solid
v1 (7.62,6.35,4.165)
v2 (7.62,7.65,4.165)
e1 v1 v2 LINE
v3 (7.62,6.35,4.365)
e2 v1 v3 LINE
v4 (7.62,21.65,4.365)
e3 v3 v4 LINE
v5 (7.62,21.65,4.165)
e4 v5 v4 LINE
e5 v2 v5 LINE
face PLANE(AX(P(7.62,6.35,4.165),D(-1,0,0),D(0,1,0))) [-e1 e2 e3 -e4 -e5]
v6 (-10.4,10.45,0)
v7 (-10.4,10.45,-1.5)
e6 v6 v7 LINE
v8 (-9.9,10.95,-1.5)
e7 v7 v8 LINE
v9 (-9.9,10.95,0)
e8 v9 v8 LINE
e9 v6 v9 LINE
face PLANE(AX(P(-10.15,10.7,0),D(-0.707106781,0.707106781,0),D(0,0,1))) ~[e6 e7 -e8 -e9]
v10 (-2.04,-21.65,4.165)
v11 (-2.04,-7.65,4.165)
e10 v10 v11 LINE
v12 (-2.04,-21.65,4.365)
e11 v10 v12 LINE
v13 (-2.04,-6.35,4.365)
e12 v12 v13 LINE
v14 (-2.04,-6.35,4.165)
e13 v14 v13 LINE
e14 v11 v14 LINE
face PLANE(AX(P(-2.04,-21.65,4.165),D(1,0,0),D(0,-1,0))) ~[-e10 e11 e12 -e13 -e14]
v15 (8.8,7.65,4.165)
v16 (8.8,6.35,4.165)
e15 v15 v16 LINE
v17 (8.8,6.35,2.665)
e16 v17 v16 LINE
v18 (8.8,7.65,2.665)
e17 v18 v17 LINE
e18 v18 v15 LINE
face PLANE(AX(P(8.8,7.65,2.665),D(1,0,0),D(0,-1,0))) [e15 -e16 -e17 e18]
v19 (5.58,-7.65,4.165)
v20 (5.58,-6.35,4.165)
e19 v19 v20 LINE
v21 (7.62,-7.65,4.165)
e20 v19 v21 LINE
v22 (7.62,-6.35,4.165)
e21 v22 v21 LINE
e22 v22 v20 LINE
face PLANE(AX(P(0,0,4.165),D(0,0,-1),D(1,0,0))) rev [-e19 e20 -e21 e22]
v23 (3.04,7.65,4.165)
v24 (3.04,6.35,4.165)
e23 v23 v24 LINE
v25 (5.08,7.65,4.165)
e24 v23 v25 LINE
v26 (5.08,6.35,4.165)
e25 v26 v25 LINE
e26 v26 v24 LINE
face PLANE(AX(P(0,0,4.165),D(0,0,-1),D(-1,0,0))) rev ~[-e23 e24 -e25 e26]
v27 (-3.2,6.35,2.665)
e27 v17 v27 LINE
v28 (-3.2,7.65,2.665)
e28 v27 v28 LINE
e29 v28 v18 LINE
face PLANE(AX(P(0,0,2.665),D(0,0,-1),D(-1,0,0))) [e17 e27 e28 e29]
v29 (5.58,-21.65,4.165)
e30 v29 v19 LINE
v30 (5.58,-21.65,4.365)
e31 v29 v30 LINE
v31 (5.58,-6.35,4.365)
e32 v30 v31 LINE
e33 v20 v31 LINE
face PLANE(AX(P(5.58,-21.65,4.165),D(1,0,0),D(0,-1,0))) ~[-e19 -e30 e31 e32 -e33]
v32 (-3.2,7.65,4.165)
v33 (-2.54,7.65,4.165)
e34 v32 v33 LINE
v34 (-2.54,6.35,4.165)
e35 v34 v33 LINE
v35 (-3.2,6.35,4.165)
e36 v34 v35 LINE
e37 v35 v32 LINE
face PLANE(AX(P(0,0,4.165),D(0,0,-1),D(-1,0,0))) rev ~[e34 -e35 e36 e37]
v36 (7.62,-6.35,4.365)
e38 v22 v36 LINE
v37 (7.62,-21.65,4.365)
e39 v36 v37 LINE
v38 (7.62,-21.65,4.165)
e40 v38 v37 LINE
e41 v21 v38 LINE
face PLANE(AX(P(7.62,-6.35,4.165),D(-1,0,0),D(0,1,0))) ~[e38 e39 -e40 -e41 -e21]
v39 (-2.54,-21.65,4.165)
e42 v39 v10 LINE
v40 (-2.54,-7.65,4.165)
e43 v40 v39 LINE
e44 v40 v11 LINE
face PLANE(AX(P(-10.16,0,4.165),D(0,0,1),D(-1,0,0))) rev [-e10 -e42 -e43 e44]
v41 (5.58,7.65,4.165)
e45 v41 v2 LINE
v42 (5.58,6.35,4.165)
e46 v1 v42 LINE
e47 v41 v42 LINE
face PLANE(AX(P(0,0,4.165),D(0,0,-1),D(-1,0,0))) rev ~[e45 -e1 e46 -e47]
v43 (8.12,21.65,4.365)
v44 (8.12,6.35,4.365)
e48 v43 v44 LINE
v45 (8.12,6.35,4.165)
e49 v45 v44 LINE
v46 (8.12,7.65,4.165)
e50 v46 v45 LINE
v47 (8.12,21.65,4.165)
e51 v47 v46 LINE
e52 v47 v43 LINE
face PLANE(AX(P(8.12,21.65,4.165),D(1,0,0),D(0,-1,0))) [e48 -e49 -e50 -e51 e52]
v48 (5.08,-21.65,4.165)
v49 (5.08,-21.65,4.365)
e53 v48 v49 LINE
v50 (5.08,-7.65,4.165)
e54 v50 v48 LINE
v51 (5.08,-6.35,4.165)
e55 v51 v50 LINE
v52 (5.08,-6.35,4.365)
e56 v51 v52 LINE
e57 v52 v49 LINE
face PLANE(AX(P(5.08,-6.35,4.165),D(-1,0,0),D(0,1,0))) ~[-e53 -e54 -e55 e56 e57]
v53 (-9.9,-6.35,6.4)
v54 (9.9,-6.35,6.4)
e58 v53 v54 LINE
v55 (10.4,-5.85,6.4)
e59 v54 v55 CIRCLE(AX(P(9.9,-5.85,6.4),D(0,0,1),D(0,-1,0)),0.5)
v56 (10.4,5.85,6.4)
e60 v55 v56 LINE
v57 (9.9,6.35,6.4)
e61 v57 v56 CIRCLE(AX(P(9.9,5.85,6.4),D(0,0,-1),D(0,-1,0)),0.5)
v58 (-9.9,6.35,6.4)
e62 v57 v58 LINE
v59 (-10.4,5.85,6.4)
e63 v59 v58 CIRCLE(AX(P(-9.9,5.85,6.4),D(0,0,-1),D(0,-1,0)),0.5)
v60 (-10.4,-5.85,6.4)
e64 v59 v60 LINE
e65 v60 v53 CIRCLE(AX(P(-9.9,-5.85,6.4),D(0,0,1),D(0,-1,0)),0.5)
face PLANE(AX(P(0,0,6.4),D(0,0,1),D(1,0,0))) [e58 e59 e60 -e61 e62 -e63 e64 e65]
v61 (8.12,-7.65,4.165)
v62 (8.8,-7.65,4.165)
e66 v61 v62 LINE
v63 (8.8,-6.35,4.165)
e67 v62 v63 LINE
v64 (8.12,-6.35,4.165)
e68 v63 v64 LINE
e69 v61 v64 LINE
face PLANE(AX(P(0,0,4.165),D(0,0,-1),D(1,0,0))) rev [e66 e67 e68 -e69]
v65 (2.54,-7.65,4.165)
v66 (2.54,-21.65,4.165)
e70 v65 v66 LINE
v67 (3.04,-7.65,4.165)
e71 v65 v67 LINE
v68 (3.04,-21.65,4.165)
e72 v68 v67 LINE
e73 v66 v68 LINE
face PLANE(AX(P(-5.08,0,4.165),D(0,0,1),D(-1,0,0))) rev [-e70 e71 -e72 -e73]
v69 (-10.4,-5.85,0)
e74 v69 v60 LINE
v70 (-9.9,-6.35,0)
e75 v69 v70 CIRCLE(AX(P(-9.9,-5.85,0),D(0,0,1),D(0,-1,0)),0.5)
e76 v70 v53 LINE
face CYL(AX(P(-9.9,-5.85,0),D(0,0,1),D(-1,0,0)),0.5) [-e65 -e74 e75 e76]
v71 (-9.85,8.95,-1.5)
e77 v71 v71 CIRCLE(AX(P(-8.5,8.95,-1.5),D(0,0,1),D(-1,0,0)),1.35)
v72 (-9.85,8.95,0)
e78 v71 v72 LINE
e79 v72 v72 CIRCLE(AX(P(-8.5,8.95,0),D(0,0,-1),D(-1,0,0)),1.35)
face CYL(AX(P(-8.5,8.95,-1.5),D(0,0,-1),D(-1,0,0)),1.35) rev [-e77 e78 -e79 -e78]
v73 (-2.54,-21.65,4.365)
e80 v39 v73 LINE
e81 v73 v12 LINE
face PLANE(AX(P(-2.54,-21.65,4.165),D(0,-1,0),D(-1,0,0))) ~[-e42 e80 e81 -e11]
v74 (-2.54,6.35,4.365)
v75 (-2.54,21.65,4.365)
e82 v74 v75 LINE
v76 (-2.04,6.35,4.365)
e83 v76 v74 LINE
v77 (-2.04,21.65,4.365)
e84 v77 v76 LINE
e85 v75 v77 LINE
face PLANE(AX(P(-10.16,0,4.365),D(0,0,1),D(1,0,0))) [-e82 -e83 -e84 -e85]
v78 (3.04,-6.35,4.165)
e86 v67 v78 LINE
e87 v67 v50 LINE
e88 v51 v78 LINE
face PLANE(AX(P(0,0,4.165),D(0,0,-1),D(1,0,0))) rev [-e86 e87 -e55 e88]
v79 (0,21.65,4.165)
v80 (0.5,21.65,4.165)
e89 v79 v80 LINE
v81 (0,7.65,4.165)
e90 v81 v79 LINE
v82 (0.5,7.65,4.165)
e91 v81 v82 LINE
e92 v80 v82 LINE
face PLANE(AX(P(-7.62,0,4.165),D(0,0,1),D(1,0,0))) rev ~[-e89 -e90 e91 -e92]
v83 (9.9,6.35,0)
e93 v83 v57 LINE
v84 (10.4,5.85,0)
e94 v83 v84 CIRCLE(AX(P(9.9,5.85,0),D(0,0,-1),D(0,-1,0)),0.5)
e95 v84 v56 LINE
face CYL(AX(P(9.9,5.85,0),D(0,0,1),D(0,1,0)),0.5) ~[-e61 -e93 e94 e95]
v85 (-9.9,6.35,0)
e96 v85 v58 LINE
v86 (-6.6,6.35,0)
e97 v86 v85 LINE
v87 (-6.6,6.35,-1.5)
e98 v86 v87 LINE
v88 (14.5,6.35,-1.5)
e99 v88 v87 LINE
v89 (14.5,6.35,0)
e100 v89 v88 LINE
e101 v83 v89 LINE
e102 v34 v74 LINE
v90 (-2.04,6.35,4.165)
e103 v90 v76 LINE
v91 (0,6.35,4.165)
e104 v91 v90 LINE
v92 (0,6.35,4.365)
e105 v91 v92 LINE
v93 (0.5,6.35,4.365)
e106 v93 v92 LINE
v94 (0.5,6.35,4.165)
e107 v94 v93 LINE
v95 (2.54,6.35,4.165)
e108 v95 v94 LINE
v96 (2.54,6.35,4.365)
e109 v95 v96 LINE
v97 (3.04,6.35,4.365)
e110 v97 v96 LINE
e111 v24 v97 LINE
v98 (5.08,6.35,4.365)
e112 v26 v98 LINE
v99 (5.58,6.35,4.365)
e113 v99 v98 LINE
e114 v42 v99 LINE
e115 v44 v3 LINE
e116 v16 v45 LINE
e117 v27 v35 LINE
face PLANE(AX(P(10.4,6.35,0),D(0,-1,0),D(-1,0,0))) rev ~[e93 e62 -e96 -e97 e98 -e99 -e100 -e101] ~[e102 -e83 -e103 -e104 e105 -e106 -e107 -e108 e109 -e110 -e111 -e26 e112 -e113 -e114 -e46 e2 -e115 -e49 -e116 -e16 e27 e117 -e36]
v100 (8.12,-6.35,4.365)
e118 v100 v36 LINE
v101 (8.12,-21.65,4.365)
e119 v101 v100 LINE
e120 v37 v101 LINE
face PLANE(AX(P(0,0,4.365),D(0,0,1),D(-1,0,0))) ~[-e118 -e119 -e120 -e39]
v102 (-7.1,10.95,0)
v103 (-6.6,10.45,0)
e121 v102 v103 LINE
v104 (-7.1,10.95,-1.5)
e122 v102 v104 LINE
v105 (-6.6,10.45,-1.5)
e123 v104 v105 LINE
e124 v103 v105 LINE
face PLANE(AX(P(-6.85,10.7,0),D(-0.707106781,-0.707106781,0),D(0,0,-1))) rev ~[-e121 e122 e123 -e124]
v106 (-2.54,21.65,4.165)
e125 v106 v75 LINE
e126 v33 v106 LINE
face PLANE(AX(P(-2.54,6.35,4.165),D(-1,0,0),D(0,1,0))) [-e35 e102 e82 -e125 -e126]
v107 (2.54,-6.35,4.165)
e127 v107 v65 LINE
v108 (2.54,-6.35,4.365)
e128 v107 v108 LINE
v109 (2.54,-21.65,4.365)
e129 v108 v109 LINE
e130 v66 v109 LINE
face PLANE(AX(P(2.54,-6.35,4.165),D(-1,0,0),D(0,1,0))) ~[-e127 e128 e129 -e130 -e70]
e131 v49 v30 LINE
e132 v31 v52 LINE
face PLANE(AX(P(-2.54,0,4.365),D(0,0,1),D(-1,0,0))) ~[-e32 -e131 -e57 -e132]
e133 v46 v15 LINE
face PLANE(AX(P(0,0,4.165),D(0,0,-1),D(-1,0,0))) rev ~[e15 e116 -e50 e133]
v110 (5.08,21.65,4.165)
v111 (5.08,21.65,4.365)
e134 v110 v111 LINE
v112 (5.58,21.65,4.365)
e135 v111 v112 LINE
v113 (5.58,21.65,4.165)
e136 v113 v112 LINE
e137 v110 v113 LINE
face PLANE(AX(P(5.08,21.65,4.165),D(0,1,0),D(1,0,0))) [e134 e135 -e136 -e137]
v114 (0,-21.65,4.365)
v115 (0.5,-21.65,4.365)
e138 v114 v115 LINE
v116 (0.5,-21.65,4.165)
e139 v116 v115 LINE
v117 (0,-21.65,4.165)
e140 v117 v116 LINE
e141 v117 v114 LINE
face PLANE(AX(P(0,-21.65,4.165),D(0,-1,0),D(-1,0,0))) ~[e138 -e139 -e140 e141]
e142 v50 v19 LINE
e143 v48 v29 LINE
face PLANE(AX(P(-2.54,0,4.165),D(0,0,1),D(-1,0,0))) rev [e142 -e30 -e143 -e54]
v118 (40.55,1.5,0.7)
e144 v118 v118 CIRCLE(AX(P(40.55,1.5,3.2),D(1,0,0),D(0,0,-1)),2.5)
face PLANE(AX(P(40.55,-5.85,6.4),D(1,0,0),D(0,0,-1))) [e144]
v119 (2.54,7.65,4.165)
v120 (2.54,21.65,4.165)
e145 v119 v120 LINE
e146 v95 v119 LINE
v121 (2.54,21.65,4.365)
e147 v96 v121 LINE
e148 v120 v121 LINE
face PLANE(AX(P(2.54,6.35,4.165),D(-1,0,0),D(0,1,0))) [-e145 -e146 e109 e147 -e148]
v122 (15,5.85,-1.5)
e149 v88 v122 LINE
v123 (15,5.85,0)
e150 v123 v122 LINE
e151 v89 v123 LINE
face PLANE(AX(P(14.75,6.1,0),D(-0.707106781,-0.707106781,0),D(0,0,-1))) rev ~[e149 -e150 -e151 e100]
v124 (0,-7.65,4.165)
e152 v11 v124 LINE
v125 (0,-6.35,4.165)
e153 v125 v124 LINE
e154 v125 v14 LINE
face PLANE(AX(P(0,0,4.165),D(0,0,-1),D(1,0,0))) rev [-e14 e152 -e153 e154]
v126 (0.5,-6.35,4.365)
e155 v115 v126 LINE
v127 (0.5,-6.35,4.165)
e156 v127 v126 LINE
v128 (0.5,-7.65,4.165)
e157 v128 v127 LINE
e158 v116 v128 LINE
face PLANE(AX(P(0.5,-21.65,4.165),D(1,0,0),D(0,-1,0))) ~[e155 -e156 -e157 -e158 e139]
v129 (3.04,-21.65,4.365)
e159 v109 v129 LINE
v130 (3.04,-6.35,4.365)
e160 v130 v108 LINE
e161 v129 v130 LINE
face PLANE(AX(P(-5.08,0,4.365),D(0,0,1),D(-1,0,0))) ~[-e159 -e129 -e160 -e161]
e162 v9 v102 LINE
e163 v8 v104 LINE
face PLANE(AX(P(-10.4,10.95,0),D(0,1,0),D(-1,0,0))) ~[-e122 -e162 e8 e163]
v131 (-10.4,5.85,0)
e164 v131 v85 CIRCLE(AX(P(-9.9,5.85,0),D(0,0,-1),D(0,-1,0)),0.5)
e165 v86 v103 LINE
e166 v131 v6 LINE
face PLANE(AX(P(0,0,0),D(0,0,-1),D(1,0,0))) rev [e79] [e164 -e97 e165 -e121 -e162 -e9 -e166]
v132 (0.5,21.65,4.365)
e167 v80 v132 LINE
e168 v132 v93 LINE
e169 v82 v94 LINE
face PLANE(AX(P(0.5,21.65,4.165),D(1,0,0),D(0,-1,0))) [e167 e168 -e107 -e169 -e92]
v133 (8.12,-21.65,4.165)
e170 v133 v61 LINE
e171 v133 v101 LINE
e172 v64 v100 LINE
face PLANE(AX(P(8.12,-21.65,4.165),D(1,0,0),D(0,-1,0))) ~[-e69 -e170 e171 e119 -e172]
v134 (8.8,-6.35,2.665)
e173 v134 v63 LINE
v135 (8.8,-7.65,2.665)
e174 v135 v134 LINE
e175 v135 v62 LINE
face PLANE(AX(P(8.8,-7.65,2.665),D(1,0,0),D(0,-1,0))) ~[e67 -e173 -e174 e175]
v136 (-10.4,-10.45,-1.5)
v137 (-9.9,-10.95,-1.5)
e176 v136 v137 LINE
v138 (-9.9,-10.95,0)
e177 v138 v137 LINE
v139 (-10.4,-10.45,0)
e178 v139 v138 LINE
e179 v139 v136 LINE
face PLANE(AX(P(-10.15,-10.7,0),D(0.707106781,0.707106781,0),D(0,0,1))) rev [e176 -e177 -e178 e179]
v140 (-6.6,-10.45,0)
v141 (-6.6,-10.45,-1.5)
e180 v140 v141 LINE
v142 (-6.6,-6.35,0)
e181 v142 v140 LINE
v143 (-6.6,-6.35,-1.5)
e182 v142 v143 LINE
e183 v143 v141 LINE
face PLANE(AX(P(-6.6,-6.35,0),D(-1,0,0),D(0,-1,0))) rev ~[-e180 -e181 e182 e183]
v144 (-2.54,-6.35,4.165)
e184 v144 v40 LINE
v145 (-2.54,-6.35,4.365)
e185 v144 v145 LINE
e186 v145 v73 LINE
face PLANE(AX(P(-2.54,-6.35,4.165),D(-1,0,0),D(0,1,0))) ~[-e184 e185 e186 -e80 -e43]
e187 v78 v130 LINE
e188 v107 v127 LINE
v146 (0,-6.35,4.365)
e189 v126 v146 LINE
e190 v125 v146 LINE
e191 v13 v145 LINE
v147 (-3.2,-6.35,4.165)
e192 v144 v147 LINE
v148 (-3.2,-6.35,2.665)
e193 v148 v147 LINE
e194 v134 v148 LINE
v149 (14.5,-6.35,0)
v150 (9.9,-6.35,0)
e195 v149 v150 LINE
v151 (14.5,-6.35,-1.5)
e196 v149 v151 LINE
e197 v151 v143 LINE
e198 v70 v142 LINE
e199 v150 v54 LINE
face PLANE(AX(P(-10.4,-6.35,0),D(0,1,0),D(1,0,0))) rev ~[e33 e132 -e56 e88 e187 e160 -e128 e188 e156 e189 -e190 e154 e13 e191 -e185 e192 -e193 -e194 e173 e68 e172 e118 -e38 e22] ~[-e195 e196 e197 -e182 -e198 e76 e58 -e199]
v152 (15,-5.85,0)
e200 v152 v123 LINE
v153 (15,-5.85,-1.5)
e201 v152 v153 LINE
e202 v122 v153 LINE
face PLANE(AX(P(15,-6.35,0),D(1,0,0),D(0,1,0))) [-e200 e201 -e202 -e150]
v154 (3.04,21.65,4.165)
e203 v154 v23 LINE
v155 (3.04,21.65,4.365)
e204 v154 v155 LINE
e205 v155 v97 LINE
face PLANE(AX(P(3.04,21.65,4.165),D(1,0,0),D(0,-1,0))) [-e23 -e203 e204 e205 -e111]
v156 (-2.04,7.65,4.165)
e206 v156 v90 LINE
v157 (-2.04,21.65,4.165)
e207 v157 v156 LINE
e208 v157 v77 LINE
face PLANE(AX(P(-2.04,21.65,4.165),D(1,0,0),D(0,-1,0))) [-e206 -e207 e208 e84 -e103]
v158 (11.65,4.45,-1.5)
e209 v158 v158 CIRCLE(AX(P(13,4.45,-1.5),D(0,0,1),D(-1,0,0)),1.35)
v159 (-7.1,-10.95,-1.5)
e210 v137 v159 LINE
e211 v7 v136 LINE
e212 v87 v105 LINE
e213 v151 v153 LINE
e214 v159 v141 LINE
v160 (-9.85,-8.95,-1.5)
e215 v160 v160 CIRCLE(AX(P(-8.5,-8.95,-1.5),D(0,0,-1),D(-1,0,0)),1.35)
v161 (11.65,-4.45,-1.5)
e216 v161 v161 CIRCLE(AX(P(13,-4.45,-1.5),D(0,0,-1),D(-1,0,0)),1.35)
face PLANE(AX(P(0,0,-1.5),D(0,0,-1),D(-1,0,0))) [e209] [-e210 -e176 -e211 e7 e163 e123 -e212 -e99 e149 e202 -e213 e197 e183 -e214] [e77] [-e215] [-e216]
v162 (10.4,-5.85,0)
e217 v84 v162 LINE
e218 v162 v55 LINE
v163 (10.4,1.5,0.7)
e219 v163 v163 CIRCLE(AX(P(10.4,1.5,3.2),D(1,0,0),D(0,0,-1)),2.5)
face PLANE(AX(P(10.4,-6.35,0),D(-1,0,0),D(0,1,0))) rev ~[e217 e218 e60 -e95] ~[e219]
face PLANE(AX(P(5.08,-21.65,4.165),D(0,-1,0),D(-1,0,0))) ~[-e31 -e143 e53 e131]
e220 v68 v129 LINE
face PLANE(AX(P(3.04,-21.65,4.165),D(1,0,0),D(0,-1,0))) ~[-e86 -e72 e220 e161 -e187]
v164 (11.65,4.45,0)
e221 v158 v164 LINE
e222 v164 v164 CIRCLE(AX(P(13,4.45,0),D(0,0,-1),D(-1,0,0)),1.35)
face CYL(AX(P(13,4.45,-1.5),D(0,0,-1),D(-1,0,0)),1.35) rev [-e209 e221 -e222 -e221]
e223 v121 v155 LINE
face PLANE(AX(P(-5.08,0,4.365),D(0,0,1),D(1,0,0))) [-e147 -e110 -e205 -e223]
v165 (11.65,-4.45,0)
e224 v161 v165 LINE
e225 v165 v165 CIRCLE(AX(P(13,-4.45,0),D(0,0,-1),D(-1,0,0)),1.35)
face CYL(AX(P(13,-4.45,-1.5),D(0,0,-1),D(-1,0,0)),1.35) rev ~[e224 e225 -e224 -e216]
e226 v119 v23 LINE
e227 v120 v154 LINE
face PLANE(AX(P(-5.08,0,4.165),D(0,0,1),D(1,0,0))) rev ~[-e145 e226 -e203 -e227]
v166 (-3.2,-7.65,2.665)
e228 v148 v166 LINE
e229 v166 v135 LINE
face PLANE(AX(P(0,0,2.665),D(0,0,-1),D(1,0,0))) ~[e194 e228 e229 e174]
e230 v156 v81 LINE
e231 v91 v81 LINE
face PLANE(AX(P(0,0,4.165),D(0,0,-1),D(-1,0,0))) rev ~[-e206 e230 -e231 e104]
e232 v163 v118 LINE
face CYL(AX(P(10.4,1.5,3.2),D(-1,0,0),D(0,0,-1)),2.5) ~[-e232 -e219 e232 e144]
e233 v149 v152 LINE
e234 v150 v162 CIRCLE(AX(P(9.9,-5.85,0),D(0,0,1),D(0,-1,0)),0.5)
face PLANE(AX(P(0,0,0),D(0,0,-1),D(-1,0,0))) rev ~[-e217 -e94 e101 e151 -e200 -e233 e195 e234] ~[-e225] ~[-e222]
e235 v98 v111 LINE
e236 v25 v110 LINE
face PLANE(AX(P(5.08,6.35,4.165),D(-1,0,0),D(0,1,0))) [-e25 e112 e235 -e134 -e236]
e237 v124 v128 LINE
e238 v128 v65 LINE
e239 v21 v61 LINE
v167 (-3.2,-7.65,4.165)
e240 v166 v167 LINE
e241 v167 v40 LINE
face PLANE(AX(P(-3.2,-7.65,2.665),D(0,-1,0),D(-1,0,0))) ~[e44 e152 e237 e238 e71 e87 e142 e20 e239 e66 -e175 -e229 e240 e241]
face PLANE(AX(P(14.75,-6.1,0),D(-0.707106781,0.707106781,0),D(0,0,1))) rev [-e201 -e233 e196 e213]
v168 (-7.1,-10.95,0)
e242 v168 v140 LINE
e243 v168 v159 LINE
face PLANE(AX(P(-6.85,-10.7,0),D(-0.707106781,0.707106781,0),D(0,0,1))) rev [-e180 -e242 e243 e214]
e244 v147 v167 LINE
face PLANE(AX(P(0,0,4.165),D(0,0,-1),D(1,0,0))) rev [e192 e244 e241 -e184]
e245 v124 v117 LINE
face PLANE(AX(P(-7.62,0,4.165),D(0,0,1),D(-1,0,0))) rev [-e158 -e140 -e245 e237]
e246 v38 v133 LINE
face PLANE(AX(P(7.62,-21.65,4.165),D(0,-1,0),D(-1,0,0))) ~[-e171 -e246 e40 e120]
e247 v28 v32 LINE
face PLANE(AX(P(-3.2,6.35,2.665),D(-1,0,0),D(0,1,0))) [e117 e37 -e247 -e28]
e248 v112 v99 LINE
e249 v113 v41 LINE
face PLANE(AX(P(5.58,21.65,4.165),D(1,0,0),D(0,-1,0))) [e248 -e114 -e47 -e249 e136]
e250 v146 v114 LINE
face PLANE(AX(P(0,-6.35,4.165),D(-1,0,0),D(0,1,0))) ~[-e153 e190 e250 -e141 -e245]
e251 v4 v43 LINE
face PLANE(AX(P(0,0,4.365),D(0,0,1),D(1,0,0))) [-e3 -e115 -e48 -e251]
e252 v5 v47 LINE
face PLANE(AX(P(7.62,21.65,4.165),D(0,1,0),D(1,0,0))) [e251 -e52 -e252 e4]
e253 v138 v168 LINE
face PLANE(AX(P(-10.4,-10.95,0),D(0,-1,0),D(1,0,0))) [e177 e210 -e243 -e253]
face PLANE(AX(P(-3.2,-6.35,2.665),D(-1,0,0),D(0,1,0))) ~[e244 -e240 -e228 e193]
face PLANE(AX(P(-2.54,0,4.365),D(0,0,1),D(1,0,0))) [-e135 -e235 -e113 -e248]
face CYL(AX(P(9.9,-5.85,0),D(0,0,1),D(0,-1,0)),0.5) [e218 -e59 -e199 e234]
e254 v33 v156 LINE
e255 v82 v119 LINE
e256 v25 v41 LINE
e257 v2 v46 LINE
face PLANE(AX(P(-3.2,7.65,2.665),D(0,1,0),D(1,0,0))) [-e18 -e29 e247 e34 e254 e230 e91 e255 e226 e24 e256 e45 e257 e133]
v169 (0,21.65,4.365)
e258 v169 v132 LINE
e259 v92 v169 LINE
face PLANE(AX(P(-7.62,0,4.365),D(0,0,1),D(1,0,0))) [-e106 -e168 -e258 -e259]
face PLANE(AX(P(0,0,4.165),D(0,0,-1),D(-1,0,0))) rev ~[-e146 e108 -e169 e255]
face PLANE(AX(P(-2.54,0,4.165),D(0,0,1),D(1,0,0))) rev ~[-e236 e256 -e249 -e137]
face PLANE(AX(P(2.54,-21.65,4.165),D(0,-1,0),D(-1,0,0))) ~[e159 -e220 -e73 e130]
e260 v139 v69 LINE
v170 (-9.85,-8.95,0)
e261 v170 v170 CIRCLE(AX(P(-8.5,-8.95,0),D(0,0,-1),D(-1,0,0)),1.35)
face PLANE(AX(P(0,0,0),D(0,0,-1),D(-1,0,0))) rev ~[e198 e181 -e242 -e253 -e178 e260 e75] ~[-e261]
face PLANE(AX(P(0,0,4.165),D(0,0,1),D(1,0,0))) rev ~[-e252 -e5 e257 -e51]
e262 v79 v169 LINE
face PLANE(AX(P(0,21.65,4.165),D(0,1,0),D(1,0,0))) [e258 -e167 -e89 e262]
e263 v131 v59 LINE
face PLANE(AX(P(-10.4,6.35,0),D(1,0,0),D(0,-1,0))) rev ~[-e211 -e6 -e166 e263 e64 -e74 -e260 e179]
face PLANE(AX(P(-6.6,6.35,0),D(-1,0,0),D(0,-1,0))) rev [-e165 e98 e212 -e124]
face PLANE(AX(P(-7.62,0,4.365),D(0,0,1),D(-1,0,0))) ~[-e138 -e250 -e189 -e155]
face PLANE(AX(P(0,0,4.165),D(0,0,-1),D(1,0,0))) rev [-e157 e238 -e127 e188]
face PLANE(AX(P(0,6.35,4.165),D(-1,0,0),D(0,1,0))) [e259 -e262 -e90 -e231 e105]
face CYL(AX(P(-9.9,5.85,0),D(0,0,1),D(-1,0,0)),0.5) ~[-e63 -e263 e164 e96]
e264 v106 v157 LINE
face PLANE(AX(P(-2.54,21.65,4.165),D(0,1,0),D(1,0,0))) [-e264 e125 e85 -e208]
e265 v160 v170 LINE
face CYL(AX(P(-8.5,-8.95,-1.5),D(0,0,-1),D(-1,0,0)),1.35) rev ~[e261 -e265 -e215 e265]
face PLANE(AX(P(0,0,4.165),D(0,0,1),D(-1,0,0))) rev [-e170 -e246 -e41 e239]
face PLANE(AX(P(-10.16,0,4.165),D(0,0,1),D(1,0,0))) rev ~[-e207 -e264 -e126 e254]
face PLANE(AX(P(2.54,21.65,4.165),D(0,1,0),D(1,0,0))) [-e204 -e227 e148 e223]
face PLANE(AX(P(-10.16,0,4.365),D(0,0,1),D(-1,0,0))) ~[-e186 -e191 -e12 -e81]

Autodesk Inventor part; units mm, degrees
ref_plane "YZ Plane" through (0, 0, 0) normal (1, 0, 0) x (0, 1, 0)
ref_plane "XZ Plane" through (0, 0, 0) normal (0, 1, 0) x (-1, 0, 0)
sketch "Sketch1" plane through (0, 0, 0) normal (0, 0, 1) x (1, 0, 0)
  line L0 (-10.4, -6.35) -> (10.4, -6.35)
  line L1 (10.4, -6.35) -> (10.4, 6.35)
  line L2 (10.4, 6.35) -> (-10.4, 6.35)
  line L3 (-10.4, 6.35) -> (-10.4, -6.35)
  line L4 (-10.4, -6.35) -> (10.4, 6.35) construction
  line L5 (10.4, -6.35) -> (-10.4, 6.35) construction
  point P0 (0, 0)
  dimension "d0" = 12.7
  dimension "d1" = 20.8
extrude "Extrusion1" add sketch "Sketch1" along normal blind 6.4
sketch "Sketch4" plane through (0, 0, 0) normal (0, 0, -1) x (-1, 0, 0)
  line L0 (10.4, -10.95) -> (6.6, -10.95)
  line L1 (-15, -6.35) -> (-15, 0)
  line L2 (-15, 0) -> (10.4, 0)
  line L3 (10.4, 0) -> (10.4, -10.95)
  line L4 (10.4, 6.35) -> (10.4, -6.35) projected
  line L5 (-15, -6.35) -> (6.6, -6.35)
  line L6 (6.6, -6.35) -> (6.6, -10.95)
  line L7 (10.4, -6.35) -> (-10.4, -6.35) projected
  point P0 (0, 0)
  dimension "d18" = 10.95
  dimension "d20" = 25.4
  dimension "d21" = 3.8
extrude "Extrusion4" add sketch "Sketch4" along normal blind 1.5
sketch "Sketch5" plane through (0, 0, -1.5) normal (0, 0, -1) x (-1, 0, 0)
  circle A0 centre (8.5, -8.95) radius 1.35
  circle A1 centre (-13, -4.45) radius 1.35
  line L0 (6.6, -10.95) -> (10.4, -10.95) projected
  line L1 (10.4, 0) -> (-15, 0) projected
  line L2 (10.4, -10.95) -> (10.4, 0) projected
  line L3 (-15, 0) -> (-15, -6.35) projected
  line L4 (-15, -6.35) -> (6.6, -6.35) projected
  point P0 (0, 0)
  dimension "d24" = 2.7
  dimension "d26" = 8.95
  dimension "d28" = 1.9
  dimension "d29" = 2
  dimension "d31" = 4.45
extrude "Extrusion5" cut sketch "Sketch5" against normal through all
chamfer "Chamfer2" distance 0.5 angle 45 3 edges at (-10.4, -10.95, -0.75) (-6.6, -10.95, -0.75) (15, -6.35, -0.75)
mirror "Mirror3" about plane through (0, 0, 0) normal (0, 1, 0) of "Extrusion4", "Extrusion5", "Chamfer2"
fillet "Fillet1" radius 0.5 4 edges at (10.4, -6.35, 3.2) (-10.4, -6.35, 3.2) (-10.4, 6.35, 3.2) (10.4, 6.35, 3.2)
ref_plane "Work Plane2" through (0, 0, 2.665) normal (0, 0, -1) x (-1, 0, 0)
sketch "Sketch6" plane through (0, 0, 2.665) normal (0, 0, -1) x (-1, 0, 0)
  line L0 (-9.9, 6.35) -> (9.9, 6.35) projected
  line L1 (-8.8, 6.35) -> (3.2, 6.35)
  line L2 (3.2, 6.35) -> (3.2, 7.65)
  line L3 (3.2, 7.65) -> (-8.8, 7.65)
  line L4 (-8.8, 7.65) -> (-8.8, 6.35)
  line L5 (-10.4, -5.85) -> (-10.4, 5.85) projected
  point P0 (0, 0)
  dimension "d39" = 1.3
  dimension "d40" = 12
  dimension "d41" = 1.6
extrude "Extrusion6" add sketch "Sketch6" against normal blind 1.5
sketch "Sketch7" plane through (0, 0, 4.165) normal (0, 0, 1) x (1, 0, 0)
  line L0 (8.8, 6.35) -> (-3.2, 6.35) projected
  line L1 (8.12, 6.35) -> (7.62, 6.35)
  line L2 (7.62, 6.35) -> (7.62, 21.65)
  line L3 (7.62, 21.65) -> (8.12, 21.65)
  line L4 (8.12, 21.65) -> (8.12, 6.35)
  line L5 (-15.48, 0) -> (20.08, 0) projected
  line L6 (7.87, 6.35) -> (7.87, 21.65) construction
  line L7 (10.4, -5.85) -> (10.4, 5.85) projected
  point P0 (0, 0)
  dimension "d46" = 21.65
  dimension "d47" = 2.53
  dimension "d48" = 0.5
extrude "Extrusion7" add sketch "Sketch7" along normal blind 0.2
pattern_linear "Rectangular Pattern1" count 5 spacing 2.54 along (-1, 0, 0) of "Extrusion7"
mirror "Mirror4" about plane through (0, 0, 0) normal (0, 1, 0) of "Extrusion6", "Extrusion7", "Rectangular Pattern1"
sketch "Sketch8" plane through (-10.4, -10.45, -1.5) normal (-1, 0, 0) x (0, 0, 1)
  line L0 (0, 0) -> (0, 20.9) projected
  line L1 (1.5, 4.1) -> (7.9, 4.1) projected
  point P0 (1.5, 10.45)
  point P1 (4.8, 8.6)
  dimension "d54" = 4.8
  dimension "d55" = 4.5
sketch "Sketch9" plane through (10.4, -5.85, 6.4) normal (1, 0, 0) x (0, 0, -1)
  line L0 (7.9, 0) -> (7.9, 11.7) projected
  line L1 (6.4, 12.2) -> (0, 12.2) projected
  circle A0 centre (3.2, 7.35) radius 2.5
  point P0 (6.4, 5.85)
  dimension "d56" = 4.7
  dimension "d57" = 4.85
  dimension "d58" = 5
extrude "fibre_connect" add sketch "Sketch9" along normal blind 30.15
ref_plane "Work Plane1" through (0, 0, 0) normal (0, 1, 0) x (-1, 0, 0)
ref_plane "Work Plane3" through (0, 0, 0) normal (0, 1, 0) x (-1, 0, 0)
properties part number "gainchip"
